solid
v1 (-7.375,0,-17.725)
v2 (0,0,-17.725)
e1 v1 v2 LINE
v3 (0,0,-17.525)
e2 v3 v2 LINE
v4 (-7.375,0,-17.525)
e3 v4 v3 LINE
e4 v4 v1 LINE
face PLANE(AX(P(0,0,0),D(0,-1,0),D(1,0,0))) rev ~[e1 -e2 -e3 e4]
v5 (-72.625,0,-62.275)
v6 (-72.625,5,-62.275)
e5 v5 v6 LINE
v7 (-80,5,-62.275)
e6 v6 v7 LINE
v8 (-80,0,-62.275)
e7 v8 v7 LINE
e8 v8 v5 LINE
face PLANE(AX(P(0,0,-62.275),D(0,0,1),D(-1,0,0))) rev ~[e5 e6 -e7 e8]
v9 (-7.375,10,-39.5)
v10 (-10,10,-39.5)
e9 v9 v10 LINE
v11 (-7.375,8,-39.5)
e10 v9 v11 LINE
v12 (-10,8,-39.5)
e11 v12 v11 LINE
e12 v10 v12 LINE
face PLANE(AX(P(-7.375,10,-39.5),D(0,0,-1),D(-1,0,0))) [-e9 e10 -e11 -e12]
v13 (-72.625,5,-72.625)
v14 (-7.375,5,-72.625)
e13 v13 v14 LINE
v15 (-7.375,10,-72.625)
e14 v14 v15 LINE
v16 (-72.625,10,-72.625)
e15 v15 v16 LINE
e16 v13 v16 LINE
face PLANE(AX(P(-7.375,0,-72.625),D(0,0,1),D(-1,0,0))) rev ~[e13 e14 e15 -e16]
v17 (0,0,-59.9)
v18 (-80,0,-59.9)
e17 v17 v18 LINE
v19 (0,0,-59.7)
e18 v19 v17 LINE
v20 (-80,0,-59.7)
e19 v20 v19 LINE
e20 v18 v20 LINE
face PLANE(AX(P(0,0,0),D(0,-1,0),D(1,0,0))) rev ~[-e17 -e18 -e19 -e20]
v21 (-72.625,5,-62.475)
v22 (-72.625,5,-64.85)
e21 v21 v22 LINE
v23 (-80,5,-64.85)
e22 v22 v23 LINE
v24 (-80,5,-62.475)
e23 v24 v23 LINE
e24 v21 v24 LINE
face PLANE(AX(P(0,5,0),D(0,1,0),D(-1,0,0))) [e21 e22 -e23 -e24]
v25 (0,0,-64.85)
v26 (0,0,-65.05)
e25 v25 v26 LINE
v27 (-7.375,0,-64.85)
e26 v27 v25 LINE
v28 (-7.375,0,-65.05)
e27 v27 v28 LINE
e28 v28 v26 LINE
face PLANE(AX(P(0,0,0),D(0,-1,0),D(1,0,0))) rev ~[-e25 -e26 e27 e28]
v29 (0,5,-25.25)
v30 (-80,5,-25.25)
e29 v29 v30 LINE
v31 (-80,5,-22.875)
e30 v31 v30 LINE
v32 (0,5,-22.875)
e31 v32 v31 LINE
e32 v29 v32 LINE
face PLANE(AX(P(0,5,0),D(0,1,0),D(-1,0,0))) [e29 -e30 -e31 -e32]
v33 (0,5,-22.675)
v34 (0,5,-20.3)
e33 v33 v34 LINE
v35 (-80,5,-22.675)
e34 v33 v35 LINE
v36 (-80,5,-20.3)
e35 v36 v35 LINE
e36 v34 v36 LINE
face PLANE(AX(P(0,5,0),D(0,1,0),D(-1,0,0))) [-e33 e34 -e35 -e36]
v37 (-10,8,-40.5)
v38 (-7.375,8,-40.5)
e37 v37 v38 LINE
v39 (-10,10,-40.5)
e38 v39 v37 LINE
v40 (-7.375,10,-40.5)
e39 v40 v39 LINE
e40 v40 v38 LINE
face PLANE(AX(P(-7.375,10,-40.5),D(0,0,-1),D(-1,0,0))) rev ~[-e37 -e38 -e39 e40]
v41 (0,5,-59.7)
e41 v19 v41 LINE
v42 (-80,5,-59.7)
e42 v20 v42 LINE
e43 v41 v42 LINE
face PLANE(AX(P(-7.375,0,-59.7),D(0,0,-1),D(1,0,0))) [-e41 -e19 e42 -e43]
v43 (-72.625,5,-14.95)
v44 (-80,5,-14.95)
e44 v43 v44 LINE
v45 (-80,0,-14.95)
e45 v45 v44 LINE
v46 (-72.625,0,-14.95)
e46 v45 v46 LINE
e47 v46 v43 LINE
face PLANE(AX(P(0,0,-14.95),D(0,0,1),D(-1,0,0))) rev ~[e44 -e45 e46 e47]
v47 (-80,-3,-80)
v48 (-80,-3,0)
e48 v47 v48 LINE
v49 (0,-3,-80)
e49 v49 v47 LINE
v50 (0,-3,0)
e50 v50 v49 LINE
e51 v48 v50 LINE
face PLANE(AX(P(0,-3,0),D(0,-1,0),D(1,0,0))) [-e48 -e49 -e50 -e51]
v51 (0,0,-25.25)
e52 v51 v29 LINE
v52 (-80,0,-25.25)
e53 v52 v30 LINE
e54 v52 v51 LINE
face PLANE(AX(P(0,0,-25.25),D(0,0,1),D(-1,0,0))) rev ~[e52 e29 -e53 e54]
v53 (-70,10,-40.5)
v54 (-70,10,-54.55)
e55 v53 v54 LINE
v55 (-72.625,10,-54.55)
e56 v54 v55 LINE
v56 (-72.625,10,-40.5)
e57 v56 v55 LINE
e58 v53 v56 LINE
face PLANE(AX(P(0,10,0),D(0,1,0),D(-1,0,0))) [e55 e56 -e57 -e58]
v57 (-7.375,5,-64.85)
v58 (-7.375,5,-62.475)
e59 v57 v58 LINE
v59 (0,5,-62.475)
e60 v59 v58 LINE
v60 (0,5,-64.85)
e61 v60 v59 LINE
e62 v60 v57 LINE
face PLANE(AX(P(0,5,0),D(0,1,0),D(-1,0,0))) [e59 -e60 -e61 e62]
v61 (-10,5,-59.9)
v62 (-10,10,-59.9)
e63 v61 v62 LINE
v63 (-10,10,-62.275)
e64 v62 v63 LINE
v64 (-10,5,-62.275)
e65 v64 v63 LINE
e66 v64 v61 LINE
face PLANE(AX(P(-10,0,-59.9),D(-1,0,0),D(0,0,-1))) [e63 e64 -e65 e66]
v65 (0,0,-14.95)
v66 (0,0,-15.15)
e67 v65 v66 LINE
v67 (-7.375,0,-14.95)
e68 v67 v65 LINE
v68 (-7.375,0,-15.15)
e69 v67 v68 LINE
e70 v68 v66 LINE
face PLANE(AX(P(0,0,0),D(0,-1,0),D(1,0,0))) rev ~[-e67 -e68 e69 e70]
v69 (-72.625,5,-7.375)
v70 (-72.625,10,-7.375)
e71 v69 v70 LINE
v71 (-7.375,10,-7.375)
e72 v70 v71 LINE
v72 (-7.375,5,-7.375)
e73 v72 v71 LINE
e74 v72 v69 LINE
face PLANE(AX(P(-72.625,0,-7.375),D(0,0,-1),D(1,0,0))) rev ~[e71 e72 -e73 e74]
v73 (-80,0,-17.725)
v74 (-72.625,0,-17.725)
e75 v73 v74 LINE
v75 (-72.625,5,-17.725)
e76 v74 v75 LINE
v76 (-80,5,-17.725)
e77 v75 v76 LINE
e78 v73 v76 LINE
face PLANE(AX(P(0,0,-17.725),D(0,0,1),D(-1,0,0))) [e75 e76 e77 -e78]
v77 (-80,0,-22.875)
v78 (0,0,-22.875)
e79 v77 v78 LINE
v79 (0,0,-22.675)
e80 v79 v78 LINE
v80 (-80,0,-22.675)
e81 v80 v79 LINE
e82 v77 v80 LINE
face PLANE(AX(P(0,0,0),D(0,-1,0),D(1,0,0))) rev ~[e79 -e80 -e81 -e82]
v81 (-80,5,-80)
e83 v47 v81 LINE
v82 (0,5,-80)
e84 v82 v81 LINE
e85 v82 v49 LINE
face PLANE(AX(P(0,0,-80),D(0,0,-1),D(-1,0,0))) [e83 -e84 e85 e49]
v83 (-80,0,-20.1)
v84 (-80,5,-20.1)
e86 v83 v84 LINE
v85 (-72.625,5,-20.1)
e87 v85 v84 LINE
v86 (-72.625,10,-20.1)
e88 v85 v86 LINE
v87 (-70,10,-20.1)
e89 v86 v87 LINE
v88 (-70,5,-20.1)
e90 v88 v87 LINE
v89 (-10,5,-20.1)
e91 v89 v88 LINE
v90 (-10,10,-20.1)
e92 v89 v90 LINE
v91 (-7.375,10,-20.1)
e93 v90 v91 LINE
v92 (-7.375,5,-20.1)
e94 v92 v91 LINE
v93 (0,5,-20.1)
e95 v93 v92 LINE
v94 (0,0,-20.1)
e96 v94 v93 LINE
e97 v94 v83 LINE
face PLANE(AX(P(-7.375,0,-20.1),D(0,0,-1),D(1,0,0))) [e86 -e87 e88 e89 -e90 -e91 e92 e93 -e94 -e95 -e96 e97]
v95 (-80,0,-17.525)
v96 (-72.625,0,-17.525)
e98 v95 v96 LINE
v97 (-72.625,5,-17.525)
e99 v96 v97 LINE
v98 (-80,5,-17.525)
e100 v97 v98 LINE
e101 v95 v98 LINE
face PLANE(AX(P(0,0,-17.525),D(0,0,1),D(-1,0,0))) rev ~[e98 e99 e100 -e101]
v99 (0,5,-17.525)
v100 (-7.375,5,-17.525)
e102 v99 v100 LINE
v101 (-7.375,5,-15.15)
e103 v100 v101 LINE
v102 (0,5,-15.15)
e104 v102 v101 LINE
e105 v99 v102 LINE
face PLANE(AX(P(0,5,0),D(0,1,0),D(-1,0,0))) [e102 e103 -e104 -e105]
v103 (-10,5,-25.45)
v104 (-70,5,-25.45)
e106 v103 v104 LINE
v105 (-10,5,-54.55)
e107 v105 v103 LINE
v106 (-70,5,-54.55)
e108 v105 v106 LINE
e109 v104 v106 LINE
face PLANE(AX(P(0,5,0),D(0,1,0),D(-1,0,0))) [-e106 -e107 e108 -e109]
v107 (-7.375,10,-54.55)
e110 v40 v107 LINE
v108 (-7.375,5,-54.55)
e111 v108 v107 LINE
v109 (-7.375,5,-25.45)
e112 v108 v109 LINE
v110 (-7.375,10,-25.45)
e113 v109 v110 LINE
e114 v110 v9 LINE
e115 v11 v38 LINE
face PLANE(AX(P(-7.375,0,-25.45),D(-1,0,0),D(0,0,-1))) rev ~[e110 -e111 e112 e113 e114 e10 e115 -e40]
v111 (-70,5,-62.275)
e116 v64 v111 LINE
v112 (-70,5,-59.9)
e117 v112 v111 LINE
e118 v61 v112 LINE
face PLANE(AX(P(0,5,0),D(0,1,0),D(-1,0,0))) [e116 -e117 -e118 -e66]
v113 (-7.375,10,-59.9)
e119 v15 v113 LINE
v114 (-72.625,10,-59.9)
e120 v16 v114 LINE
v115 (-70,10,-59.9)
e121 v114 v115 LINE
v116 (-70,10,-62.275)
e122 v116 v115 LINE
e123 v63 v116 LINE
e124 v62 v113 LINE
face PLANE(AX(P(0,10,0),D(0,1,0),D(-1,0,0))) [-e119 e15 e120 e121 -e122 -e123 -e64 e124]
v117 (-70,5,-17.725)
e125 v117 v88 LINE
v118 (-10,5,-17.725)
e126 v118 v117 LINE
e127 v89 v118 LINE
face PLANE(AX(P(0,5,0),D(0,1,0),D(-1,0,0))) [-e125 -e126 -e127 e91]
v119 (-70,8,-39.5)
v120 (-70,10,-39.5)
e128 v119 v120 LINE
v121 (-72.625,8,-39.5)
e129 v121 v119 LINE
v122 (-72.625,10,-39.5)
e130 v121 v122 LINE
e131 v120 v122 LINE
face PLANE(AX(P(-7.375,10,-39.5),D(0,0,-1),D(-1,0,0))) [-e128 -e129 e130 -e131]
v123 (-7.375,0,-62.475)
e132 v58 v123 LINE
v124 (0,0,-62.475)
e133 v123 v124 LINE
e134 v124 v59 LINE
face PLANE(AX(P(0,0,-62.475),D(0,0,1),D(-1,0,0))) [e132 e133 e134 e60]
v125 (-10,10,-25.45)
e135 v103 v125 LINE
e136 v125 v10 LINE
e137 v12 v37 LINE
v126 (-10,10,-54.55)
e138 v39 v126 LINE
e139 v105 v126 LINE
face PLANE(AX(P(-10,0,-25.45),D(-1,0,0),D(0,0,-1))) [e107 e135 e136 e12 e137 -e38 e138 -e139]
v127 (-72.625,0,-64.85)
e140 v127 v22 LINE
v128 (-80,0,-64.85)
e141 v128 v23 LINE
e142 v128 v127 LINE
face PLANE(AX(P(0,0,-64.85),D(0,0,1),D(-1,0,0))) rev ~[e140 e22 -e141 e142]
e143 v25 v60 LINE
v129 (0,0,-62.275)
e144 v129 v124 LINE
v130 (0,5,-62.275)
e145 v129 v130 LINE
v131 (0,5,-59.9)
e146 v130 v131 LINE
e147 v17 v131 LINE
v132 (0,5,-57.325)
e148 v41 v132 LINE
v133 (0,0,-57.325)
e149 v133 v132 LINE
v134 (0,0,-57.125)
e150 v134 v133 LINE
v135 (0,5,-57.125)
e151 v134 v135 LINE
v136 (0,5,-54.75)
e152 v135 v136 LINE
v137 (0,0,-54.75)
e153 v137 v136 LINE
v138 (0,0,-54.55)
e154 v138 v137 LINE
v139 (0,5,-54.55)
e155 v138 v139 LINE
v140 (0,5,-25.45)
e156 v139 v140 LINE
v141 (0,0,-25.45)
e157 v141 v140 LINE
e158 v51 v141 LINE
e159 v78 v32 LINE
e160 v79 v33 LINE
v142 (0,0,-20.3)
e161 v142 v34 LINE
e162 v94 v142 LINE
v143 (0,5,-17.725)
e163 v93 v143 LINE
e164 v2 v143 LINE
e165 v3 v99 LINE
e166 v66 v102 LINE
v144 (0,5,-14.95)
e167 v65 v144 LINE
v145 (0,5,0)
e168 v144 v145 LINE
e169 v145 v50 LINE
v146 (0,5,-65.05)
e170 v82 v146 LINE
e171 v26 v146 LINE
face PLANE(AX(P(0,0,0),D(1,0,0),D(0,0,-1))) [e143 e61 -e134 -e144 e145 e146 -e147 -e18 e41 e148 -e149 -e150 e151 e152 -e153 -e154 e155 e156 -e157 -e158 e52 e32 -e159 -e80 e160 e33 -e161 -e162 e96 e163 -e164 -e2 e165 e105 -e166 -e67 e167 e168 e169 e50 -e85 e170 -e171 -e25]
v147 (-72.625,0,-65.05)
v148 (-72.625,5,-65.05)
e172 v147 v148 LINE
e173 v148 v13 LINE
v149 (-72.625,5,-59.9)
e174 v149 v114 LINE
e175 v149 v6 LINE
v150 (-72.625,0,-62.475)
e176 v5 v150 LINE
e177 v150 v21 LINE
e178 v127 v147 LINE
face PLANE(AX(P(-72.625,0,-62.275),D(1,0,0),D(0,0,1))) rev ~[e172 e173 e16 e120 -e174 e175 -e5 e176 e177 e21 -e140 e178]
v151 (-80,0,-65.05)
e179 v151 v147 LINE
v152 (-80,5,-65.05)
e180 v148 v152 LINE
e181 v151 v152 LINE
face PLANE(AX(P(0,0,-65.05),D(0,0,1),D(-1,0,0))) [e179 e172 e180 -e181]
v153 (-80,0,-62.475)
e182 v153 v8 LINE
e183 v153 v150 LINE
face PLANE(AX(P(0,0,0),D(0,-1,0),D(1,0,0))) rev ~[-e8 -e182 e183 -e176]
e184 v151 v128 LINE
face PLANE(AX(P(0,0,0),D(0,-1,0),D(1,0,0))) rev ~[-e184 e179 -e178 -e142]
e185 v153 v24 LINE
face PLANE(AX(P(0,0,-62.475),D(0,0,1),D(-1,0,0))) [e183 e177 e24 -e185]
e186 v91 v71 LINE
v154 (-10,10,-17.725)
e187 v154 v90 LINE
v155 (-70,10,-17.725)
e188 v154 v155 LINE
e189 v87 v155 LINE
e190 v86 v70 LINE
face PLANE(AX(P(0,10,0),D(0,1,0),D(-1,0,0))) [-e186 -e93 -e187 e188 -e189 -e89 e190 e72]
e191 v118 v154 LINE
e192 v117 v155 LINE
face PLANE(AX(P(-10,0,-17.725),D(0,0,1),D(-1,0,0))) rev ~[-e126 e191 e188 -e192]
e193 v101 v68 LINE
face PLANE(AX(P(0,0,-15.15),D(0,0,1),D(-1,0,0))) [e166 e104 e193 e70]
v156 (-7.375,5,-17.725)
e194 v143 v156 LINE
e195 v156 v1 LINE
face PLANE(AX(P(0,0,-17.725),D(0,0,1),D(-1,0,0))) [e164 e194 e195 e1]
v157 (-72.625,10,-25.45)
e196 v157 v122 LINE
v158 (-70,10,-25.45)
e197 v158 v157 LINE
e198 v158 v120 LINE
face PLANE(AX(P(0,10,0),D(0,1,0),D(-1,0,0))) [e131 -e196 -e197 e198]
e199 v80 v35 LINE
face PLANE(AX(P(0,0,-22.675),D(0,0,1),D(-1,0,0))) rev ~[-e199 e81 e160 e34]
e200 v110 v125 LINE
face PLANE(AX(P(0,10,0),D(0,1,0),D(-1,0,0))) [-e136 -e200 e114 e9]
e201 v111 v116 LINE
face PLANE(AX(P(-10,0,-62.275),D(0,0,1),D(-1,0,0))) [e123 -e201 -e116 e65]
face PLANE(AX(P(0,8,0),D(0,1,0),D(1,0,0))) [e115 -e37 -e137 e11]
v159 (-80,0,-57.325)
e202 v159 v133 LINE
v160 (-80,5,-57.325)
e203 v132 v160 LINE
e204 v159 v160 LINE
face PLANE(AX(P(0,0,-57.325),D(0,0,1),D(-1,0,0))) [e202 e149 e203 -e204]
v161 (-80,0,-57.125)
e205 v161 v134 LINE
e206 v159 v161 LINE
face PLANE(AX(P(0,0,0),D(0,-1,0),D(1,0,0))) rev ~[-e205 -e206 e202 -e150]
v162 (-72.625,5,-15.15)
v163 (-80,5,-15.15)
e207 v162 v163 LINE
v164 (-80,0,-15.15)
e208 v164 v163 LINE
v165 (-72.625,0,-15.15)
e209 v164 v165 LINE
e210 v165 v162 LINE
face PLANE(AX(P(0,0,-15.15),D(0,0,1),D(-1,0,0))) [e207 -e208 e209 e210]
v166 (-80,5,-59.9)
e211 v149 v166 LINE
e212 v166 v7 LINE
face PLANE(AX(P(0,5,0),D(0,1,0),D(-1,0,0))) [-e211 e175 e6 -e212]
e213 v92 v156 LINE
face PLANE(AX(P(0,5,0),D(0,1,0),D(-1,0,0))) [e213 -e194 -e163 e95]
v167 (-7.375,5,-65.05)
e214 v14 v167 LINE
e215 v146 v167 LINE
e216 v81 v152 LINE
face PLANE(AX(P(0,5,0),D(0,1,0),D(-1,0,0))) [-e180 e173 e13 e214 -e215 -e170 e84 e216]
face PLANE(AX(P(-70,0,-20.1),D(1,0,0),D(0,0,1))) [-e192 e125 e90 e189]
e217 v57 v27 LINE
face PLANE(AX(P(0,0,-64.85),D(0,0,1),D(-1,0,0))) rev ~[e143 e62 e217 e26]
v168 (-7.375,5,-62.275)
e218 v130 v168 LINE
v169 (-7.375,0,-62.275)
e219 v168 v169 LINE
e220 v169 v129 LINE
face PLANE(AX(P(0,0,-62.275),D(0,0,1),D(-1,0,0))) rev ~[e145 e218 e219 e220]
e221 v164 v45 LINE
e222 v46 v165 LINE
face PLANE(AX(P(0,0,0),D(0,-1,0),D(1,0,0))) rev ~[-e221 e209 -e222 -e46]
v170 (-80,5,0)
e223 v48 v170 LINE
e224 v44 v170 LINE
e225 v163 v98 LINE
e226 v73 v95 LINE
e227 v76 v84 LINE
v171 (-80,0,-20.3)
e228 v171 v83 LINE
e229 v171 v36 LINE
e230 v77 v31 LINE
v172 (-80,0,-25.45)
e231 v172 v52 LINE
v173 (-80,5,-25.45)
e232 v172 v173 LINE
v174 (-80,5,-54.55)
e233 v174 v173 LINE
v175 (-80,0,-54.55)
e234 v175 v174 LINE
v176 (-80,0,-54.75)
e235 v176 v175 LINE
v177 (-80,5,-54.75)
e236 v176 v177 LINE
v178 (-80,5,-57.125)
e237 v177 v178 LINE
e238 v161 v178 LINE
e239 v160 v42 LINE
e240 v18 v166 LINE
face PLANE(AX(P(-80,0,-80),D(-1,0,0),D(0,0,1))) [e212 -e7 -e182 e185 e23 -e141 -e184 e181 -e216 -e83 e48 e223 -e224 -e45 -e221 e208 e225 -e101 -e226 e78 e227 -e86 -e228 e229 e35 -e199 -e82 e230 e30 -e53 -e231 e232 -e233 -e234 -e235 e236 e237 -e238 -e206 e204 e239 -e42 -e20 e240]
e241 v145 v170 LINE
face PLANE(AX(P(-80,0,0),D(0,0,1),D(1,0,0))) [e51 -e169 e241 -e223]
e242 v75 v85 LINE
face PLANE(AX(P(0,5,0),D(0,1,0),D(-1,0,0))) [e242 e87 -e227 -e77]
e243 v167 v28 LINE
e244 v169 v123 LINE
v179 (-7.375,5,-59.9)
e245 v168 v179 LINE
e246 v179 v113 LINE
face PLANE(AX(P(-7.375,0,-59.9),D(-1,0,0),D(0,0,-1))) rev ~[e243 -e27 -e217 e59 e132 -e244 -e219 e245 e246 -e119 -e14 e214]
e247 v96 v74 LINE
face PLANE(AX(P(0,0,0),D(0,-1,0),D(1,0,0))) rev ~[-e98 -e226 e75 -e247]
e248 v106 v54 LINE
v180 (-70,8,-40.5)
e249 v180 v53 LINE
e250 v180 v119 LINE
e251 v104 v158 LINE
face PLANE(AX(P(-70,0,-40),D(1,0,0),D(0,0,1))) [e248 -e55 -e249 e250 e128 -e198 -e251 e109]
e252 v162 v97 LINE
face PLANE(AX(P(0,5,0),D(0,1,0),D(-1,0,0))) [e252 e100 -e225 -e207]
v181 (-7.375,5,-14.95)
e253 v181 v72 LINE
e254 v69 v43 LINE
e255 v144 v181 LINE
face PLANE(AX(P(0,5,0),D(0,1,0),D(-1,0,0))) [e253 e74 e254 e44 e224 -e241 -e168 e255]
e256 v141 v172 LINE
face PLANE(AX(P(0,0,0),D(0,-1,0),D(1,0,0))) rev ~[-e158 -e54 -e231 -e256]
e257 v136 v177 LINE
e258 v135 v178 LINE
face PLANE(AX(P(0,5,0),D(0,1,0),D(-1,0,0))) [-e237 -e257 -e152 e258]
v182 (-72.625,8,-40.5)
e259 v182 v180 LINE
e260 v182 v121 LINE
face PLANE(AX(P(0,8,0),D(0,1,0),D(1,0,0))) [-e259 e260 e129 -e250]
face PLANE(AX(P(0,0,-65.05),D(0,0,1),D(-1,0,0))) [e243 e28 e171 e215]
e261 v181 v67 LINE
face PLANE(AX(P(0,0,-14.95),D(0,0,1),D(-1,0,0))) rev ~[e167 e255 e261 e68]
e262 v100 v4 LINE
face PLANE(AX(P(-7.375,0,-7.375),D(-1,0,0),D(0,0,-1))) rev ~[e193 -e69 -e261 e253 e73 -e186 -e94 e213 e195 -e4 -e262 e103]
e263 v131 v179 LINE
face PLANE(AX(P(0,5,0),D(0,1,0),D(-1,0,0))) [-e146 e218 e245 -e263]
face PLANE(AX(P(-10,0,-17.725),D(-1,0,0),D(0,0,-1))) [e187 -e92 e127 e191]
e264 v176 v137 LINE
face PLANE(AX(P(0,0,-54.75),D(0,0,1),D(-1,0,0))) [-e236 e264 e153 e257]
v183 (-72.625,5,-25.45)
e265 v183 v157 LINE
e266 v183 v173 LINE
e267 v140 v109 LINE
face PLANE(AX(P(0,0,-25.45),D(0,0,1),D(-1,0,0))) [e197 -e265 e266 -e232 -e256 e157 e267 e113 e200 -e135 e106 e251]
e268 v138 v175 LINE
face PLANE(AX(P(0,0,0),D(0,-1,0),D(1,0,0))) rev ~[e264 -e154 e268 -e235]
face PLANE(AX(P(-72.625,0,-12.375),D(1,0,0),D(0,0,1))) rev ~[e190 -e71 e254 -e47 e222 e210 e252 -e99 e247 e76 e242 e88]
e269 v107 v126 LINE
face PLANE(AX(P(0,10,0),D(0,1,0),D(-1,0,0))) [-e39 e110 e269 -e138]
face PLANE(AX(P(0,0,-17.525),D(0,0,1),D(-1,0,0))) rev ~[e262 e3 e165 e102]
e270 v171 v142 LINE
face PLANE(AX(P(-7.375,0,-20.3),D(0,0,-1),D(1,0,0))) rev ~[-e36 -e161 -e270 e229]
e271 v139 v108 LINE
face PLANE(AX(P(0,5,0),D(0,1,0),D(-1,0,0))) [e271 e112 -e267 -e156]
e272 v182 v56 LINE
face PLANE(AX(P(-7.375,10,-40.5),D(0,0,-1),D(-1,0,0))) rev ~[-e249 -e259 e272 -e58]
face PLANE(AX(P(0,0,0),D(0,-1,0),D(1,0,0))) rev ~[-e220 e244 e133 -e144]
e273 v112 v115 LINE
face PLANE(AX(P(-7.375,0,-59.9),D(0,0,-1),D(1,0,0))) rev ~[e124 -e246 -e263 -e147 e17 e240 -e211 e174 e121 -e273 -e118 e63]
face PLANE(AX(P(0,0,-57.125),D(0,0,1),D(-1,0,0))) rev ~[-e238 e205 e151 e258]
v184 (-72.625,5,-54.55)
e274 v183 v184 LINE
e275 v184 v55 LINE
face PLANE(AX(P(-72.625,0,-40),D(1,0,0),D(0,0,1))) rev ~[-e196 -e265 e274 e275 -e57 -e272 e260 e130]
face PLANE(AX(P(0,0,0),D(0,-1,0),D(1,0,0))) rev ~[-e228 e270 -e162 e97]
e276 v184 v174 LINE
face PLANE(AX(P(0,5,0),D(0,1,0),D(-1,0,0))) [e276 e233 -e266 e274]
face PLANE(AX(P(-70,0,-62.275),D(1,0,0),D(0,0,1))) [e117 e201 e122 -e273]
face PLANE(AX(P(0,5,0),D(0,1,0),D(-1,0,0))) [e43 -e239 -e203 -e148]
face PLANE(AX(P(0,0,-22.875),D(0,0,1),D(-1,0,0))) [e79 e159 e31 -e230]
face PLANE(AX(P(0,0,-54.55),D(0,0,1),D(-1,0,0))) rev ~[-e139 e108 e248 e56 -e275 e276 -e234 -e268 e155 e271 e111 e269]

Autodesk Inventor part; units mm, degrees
ref_plane "YZ Plane" through (0, 0, 0) normal (1, 0, 0) x (0, 1, 0)
ref_plane "XZ Plane" through (0, 0, 0) normal (0, 1, 0) x (-1, 0, 0)
ref_plane "XY Plane" through (0, 0, 0) normal (0, 0, 1) x (1, 0, 0)
sketch "Boceto1" plane through (0, 0, 0) normal (0, 1, 0) x (-1, 0, 0)
  line L0 (0, 0) -> (80, 0)
  line L1 (80, 0) -> (80, -80)
  line L2 (80, -80) -> (0, -80)
  line L3 (0, -80) -> (0, 0)
  line L4 (10, -70) -> (70, -70)
  line L5 (70, -70) -> (70, -10)
  line L6 (70, -10) -> (10, -10)
  line L7 (10, -10) -> (10, -70)
  line L8 (0, -12.375) -> (80, -12.375)
  line L9 (0, -14.95) -> (80, -14.95)
  line L10 (0, -17.525) -> (80, -17.525)
  line L11 (80, -20.1) -> (0, -20.1)
  line L12 (0, -22.675) -> (80, -22.675)
  line L13 (0, -12.575) -> (80, -12.575)
  line L14 (0, -15.15) -> (80, -15.15)
  line L15 (0, -17.725) -> (80, -17.725)
  line L16 (80, -20.3) -> (0, -20.3)
  line L17 (0, -22.875) -> (80, -22.875)
  line L18 (0, -25.25) -> (80, -25.25)
  line L19 (0, -25.45) -> (80, -25.45)
  line L20 (10, -40) -> (80, -40)
  line L21 (0, -67.625) -> (80, -67.625)
  line L22 (0, -65.05) -> (80, -65.05)
  line L23 (0, -62.475) -> (80, -62.475)
  line L24 (80, -59.9) -> (0, -59.9)
  line L25 (0, -57.325) -> (80, -57.325)
  line L26 (0, -67.425) -> (80, -67.425)
  line L27 (0, -64.85) -> (80, -64.85)
  line L28 (0, -62.275) -> (80, -62.275)
  line L29 (80, -59.7) -> (0, -59.7)
  line L30 (0, -57.125) -> (80, -57.125)
  line L31 (0, -54.75) -> (80, -54.75)
  line L32 (0, -54.55) -> (80, -54.55)
  line L33 (72.625, -7.375) -> (7.375, -7.375)
  line L34 (7.375, -7.375) -> (7.375, -72.625)
  line L35 (7.375, -72.625) -> (72.625, -72.625)
  line L36 (72.625, -72.625) -> (72.625, -7.375)
  line L37 (7.375, 0) -> (0, 0)
  line L38 (7.375, -80) -> (0, -80)
  point P0 (10, -12.375)
  point P1 (70, -12.375)
  point P2 (10, -14.95)
  point P3 (70, -14.95)
  point P4 (10, -17.525)
  point P5 (70, -17.525)
  point P6 (70, -20.1)
  point P7 (10, -20.1)
  point P8 (10, -22.675)
  point P9 (70, -22.675)
  point P10 (10, -12.575)
  point P11 (70, -12.575)
  point P12 (10, -15.15)
  point P13 (70, -15.15)
  point P14 (10, -17.725)
  point P15 (70, -17.725)
  point P16 (70, -20.3)
  point P17 (10, -20.3)
  point P18 (10, -22.875)
  point P19 (70, -22.875)
  point P20 (10, -25.25)
  point P21 (70, -25.25)
  point P22 (10, -25.45)
  point P23 (70, -25.45)
  point P24 (10, -67.625)
  point P25 (70, -67.625)
  point P26 (10, -65.05)
  point P27 (70, -65.05)
  point P28 (10, -62.475)
  point P29 (70, -62.475)
  point P30 (70, -59.9)
  point P31 (10, -59.9)
  point P32 (10, -57.325)
  point P33 (70, -57.325)
  point P34 (10, -67.425)
  point P35 (70, -67.425)
  point P36 (10, -64.85)
  point P37 (70, -64.85)
  point P38 (10, -62.275)
  point P39 (70, -62.275)
  point P40 (70, -59.7)
  point P41 (10, -59.7)
  point P42 (10, -57.125)
  point P43 (70, -57.125)
  point P44 (10, -54.75)
  point P45 (70, -54.75)
  point P46 (10, -54.55)
  point P47 (70, -54.55)
  point P48 (72.625, -12.375)
  point P49 (7.375, -12.375)
  point P50 (72.625, -54.55)
  point P51 (72.625, -25.45)
  point P52 (70, -25.45)
  point P53 (70, -54.55)
  point P54 (7.375, -25.45)
  point P55 (7.375, -54.55)
  point P56 (10, -54.55)
  point P57 (10, -25.45)
  point P58 (10, -67.625)
  point P59 (7.375, -67.625)
  point P60 (72.625, -67.625)
  point P61 (70, -67.625)
  point P62 (7.375, -14.95)
  point P63 (72.625, -14.95)
  point P64 (72.625, -65.05)
  point P65 (70, -65.05)
  point P66 (10, -65.05)
  point P67 (7.375, -65.05)
  point P68 (70, -67.425)
  point P69 (10, -67.425)
  point P70 (10, -12.575)
  point P71 (70, -12.575)
  point P72 (72.625, -64.85)
  point P73 (7.375, -64.85)
  point P74 (7.375, -15.15)
  point P75 (70, -15.15)
  point P76 (7.375, -62.475)
  point P77 (10, -64.85)
  point P78 (10, -62.475)
  point P79 (72.625, -62.475)
  point P80 (70, -62.475)
  point P81 (70, -64.85)
  point P82 (7.375, -17.525)
  point P83 (10, -15.15)
  point P84 (72.625, -17.525)
  point P85 (72.625, -20.1)
  point P86 (7.375, -20.1)
  point P87 (72.625, -59.9)
  point P88 (70, -59.9)
  point P89 (70, -62.275)
  point P90 (10, -62.275)
  point P91 (10, -59.9)
  point P92 (7.375, -59.9)
  point P93 (10, -17.725)
  point P94 (70, -17.725)
  dimension "d0" = 80
  dimension "d1" = 80
  dimension "d2" = 60
  dimension "d3" = 60
  dimension "d4" = 10
  dimension "d5" = 10
  dimension "d6" = 2.375
  dimension "d7" = 0.2
  dimension "d8" = 2.375
  dimension "d9" = 0.2
  dimension "d10" = 0.2
  dimension "d11" = 0.2
  dimension "d12" = 0.2
  dimension "d13" = 2.375
  dimension "d14" = 2.375
  dimension "d15" = 2.375
  dimension "d16" = 2.375
  dimension "d17" = 0.2
  dimension "d35" = 5
extrude "Extrusión1" add sketch "Boceto1" along normal blind 5 contours L0 L1 L8 L36 L33 L34 L3 | L8 L34 L13 L3 | L13 L34 L9 L3 | L34 L33 L36 L8 L5 L6 L7 | L8 L7 L13 L34 | L1 L13 L36 L8 | L13 L7 L9 L34 | L8 L5 L13 L7 | L7 L6 L5 L8 | L1 L9 L36 L13 | L36 L13 L5 L8 | L14 L34 L10 L3 | L13 L5 L9 L7 | L36 L9 L5 L13 | L14 L7 L10 L34 | L1 L10 L36 L14 | L15 L34 L11 L3 | L14 L5 L10 L7 | L36 L10 L5 L14 | L15 L7 L11 L34 | L1 L11 L36 L15 | L16 L34 L12 L3 | L15 L5 L11 L7 | L36 L11 L5 L15 | L16 L7 L12 L34 | L1 L12 L36 L16 | L17 L34 L18 L3 | L16 L5 L12 L7 | L36 L12 L5 L16 | L17 L7 L18 L34 | L1 L18 L36 L17 | L19 L34 L32 L3 | L17 L5 L18 L7 | L36 L18 L5 L17 | L19 L7 L32 L34 | L1 L20 L36 L19 | L31 L34 L30 L3 | L19 L5 L20 L7 | L1 L32 L36 L20 | L36 L20 L5 L19 | L31 L7 L30 L34 | L7 L20 L5 L32 | L36 L32 L5 L20 | L25 L34 L29 L3 | L31 L5 L30 L7 | L1 L30 L36 L31 | L25 L7 L29 L34 | L31 L36 L30 L5 | L24 L34 L28 L3 | L25 L5 L29 L7 | L1 L29 L36 L25 | L24 L7 L28 L34 | L25 L36 L29 L5 | L23 L34 L27 L3 | L24 L5 L28 L7 | L1 L28 L36 L24 | L23 L7 L27 L34 | L24 L36 L28 L5 | L22 L34 L26 L3 | L23 L5 L27 L7 | L1 L27 L36 L23 | L26 L34 L21 L3 | L22 L7 L26 L34 | L23 L36 L27 L5 | L21 L34 L35 L36 L1 L2 L3 | L26 L7 L21 L34 | L22 L5 L26 L7 | L1 L26 L36 L22 | L21 L7 L4 L5 L36 L35 L34 | L26 L5 L21 L7 | L22 L36 L26 L5 | L1 L21 L36 L26 | L21 L5 L4 L7 | L26 L36 L21 L5
sketch "Boceto2" plane through (0, 0, 0) normal (0, -1, 0) x (1, 0, 0)
  line L0 (0, -80) -> (-80, -80) projected
  line L1 (-80, 0) -> (0, 0) projected
  line L2 (-80, -80) -> (-80, 0)
  line L3 (-80, 0) -> (0, 0)
  line L4 (-80, -65.05) -> (0, -65.05) construction
  line L5 (0, 0) -> (0, -80)
  line L6 (-80, -80) -> (0, -80)
extrude "Extrusión4" add sketch "Boceto2" along normal blind 3
extrude "Extrusión5" add sketch "Boceto1" along normal blind 10 contours L34 L33 L36 L8 L5 L6 L7 | L8 L7 L13 L34 | L13 L7 L9 L34 | L8 L5 L13 L7 | L7 L6 L5 L8 | L36 L13 L5 L8 | L9 L7 L14 L34 | L13 L5 L9 L7 | L36 L9 L5 L13 | L14 L7 L10 L34 | L9 L5 L14 L7 | L36 L14 L5 L9 | L10 L7 L15 L34 | L14 L5 L10 L7 | L36 L10 L5 L14 | L15 L7 L11 L34 | L10 L5 L15 L7 | L36 L15 L5 L10 | L36 L11 L5 L15 | L19 L7 L32 L34 | L36 L20 L5 L19 | L36 L32 L5 L20 | L24 L7 L28 L34 | L28 L7 L23 L34 | L23 L7 L27 L34 | L28 L5 L23 L7 | L24 L36 L28 L5 | L27 L7 L22 L34 | L23 L5 L27 L7 | L28 L36 L23 L5 | L22 L7 L26 L34 | L27 L5 L22 L7 | L23 L36 L27 L5 | L26 L7 L21 L34 | L22 L5 L26 L7 | L27 L36 L22 L5 | L21 L7 L4 L5 L36 L35 L34 | L26 L5 L21 L7 | L22 L36 L26 L5 | L21 L5 L4 L7 | L26 L36 L21 L5
sketch "Boceto3" plane through (0, 10, 0) normal (0, 1, 0) x (1, 0, 0)
  line L0 (-7.375, 25.45) -> (-7.375, 54.55) projected
  line L1 (-7.375, 40) -> (-86.5517, 40)
  line L2 (-5, 39.5) -> (-84.1767, 39.5)
  line L3 (-5, 40.5) -> (-84.1767, 40.5)
  line L4 (-10, 54.55) -> (-10, 25.45) projected
  line L5 (-5, 40.5) -> (-5, 39.5)
  line L6 (-84.1767, 40.5) -> (-84.1767, 39.5)
  point P0 (0, 0)
  point P1 (-10, 40)
  point P2 (-10, 39.5)
  point P3 (-10, 40.5)
  point P4 (-7.375, 39.5)
  point P5 (-7.375, 40.5)
  dimension "d31" = 0.5
  dimension "d32" = 0.5
extrude "Extrusión6" cut sketch "Boceto3" against normal blind 2 contours L2 L4 L1 L0 | L1 L4 L3 L0 | L2 L6 L1 L4 | L1 L6 L3 L4
equation "\"d8\" = d6"
equation "\"d9\" = d7"
equation "\"d10\" = d9"
equation "\"d11\" = d7"
equation "\"d12\" = d7"
equation "\"d13\" = d6"
equation "\"d14\" = d6"
equation "\"d15\" = d6"
equation "\"d16\" = d6"
equation "\"d17\" = d7"
properties part number "Cortador Ancho PDMS4.5"
